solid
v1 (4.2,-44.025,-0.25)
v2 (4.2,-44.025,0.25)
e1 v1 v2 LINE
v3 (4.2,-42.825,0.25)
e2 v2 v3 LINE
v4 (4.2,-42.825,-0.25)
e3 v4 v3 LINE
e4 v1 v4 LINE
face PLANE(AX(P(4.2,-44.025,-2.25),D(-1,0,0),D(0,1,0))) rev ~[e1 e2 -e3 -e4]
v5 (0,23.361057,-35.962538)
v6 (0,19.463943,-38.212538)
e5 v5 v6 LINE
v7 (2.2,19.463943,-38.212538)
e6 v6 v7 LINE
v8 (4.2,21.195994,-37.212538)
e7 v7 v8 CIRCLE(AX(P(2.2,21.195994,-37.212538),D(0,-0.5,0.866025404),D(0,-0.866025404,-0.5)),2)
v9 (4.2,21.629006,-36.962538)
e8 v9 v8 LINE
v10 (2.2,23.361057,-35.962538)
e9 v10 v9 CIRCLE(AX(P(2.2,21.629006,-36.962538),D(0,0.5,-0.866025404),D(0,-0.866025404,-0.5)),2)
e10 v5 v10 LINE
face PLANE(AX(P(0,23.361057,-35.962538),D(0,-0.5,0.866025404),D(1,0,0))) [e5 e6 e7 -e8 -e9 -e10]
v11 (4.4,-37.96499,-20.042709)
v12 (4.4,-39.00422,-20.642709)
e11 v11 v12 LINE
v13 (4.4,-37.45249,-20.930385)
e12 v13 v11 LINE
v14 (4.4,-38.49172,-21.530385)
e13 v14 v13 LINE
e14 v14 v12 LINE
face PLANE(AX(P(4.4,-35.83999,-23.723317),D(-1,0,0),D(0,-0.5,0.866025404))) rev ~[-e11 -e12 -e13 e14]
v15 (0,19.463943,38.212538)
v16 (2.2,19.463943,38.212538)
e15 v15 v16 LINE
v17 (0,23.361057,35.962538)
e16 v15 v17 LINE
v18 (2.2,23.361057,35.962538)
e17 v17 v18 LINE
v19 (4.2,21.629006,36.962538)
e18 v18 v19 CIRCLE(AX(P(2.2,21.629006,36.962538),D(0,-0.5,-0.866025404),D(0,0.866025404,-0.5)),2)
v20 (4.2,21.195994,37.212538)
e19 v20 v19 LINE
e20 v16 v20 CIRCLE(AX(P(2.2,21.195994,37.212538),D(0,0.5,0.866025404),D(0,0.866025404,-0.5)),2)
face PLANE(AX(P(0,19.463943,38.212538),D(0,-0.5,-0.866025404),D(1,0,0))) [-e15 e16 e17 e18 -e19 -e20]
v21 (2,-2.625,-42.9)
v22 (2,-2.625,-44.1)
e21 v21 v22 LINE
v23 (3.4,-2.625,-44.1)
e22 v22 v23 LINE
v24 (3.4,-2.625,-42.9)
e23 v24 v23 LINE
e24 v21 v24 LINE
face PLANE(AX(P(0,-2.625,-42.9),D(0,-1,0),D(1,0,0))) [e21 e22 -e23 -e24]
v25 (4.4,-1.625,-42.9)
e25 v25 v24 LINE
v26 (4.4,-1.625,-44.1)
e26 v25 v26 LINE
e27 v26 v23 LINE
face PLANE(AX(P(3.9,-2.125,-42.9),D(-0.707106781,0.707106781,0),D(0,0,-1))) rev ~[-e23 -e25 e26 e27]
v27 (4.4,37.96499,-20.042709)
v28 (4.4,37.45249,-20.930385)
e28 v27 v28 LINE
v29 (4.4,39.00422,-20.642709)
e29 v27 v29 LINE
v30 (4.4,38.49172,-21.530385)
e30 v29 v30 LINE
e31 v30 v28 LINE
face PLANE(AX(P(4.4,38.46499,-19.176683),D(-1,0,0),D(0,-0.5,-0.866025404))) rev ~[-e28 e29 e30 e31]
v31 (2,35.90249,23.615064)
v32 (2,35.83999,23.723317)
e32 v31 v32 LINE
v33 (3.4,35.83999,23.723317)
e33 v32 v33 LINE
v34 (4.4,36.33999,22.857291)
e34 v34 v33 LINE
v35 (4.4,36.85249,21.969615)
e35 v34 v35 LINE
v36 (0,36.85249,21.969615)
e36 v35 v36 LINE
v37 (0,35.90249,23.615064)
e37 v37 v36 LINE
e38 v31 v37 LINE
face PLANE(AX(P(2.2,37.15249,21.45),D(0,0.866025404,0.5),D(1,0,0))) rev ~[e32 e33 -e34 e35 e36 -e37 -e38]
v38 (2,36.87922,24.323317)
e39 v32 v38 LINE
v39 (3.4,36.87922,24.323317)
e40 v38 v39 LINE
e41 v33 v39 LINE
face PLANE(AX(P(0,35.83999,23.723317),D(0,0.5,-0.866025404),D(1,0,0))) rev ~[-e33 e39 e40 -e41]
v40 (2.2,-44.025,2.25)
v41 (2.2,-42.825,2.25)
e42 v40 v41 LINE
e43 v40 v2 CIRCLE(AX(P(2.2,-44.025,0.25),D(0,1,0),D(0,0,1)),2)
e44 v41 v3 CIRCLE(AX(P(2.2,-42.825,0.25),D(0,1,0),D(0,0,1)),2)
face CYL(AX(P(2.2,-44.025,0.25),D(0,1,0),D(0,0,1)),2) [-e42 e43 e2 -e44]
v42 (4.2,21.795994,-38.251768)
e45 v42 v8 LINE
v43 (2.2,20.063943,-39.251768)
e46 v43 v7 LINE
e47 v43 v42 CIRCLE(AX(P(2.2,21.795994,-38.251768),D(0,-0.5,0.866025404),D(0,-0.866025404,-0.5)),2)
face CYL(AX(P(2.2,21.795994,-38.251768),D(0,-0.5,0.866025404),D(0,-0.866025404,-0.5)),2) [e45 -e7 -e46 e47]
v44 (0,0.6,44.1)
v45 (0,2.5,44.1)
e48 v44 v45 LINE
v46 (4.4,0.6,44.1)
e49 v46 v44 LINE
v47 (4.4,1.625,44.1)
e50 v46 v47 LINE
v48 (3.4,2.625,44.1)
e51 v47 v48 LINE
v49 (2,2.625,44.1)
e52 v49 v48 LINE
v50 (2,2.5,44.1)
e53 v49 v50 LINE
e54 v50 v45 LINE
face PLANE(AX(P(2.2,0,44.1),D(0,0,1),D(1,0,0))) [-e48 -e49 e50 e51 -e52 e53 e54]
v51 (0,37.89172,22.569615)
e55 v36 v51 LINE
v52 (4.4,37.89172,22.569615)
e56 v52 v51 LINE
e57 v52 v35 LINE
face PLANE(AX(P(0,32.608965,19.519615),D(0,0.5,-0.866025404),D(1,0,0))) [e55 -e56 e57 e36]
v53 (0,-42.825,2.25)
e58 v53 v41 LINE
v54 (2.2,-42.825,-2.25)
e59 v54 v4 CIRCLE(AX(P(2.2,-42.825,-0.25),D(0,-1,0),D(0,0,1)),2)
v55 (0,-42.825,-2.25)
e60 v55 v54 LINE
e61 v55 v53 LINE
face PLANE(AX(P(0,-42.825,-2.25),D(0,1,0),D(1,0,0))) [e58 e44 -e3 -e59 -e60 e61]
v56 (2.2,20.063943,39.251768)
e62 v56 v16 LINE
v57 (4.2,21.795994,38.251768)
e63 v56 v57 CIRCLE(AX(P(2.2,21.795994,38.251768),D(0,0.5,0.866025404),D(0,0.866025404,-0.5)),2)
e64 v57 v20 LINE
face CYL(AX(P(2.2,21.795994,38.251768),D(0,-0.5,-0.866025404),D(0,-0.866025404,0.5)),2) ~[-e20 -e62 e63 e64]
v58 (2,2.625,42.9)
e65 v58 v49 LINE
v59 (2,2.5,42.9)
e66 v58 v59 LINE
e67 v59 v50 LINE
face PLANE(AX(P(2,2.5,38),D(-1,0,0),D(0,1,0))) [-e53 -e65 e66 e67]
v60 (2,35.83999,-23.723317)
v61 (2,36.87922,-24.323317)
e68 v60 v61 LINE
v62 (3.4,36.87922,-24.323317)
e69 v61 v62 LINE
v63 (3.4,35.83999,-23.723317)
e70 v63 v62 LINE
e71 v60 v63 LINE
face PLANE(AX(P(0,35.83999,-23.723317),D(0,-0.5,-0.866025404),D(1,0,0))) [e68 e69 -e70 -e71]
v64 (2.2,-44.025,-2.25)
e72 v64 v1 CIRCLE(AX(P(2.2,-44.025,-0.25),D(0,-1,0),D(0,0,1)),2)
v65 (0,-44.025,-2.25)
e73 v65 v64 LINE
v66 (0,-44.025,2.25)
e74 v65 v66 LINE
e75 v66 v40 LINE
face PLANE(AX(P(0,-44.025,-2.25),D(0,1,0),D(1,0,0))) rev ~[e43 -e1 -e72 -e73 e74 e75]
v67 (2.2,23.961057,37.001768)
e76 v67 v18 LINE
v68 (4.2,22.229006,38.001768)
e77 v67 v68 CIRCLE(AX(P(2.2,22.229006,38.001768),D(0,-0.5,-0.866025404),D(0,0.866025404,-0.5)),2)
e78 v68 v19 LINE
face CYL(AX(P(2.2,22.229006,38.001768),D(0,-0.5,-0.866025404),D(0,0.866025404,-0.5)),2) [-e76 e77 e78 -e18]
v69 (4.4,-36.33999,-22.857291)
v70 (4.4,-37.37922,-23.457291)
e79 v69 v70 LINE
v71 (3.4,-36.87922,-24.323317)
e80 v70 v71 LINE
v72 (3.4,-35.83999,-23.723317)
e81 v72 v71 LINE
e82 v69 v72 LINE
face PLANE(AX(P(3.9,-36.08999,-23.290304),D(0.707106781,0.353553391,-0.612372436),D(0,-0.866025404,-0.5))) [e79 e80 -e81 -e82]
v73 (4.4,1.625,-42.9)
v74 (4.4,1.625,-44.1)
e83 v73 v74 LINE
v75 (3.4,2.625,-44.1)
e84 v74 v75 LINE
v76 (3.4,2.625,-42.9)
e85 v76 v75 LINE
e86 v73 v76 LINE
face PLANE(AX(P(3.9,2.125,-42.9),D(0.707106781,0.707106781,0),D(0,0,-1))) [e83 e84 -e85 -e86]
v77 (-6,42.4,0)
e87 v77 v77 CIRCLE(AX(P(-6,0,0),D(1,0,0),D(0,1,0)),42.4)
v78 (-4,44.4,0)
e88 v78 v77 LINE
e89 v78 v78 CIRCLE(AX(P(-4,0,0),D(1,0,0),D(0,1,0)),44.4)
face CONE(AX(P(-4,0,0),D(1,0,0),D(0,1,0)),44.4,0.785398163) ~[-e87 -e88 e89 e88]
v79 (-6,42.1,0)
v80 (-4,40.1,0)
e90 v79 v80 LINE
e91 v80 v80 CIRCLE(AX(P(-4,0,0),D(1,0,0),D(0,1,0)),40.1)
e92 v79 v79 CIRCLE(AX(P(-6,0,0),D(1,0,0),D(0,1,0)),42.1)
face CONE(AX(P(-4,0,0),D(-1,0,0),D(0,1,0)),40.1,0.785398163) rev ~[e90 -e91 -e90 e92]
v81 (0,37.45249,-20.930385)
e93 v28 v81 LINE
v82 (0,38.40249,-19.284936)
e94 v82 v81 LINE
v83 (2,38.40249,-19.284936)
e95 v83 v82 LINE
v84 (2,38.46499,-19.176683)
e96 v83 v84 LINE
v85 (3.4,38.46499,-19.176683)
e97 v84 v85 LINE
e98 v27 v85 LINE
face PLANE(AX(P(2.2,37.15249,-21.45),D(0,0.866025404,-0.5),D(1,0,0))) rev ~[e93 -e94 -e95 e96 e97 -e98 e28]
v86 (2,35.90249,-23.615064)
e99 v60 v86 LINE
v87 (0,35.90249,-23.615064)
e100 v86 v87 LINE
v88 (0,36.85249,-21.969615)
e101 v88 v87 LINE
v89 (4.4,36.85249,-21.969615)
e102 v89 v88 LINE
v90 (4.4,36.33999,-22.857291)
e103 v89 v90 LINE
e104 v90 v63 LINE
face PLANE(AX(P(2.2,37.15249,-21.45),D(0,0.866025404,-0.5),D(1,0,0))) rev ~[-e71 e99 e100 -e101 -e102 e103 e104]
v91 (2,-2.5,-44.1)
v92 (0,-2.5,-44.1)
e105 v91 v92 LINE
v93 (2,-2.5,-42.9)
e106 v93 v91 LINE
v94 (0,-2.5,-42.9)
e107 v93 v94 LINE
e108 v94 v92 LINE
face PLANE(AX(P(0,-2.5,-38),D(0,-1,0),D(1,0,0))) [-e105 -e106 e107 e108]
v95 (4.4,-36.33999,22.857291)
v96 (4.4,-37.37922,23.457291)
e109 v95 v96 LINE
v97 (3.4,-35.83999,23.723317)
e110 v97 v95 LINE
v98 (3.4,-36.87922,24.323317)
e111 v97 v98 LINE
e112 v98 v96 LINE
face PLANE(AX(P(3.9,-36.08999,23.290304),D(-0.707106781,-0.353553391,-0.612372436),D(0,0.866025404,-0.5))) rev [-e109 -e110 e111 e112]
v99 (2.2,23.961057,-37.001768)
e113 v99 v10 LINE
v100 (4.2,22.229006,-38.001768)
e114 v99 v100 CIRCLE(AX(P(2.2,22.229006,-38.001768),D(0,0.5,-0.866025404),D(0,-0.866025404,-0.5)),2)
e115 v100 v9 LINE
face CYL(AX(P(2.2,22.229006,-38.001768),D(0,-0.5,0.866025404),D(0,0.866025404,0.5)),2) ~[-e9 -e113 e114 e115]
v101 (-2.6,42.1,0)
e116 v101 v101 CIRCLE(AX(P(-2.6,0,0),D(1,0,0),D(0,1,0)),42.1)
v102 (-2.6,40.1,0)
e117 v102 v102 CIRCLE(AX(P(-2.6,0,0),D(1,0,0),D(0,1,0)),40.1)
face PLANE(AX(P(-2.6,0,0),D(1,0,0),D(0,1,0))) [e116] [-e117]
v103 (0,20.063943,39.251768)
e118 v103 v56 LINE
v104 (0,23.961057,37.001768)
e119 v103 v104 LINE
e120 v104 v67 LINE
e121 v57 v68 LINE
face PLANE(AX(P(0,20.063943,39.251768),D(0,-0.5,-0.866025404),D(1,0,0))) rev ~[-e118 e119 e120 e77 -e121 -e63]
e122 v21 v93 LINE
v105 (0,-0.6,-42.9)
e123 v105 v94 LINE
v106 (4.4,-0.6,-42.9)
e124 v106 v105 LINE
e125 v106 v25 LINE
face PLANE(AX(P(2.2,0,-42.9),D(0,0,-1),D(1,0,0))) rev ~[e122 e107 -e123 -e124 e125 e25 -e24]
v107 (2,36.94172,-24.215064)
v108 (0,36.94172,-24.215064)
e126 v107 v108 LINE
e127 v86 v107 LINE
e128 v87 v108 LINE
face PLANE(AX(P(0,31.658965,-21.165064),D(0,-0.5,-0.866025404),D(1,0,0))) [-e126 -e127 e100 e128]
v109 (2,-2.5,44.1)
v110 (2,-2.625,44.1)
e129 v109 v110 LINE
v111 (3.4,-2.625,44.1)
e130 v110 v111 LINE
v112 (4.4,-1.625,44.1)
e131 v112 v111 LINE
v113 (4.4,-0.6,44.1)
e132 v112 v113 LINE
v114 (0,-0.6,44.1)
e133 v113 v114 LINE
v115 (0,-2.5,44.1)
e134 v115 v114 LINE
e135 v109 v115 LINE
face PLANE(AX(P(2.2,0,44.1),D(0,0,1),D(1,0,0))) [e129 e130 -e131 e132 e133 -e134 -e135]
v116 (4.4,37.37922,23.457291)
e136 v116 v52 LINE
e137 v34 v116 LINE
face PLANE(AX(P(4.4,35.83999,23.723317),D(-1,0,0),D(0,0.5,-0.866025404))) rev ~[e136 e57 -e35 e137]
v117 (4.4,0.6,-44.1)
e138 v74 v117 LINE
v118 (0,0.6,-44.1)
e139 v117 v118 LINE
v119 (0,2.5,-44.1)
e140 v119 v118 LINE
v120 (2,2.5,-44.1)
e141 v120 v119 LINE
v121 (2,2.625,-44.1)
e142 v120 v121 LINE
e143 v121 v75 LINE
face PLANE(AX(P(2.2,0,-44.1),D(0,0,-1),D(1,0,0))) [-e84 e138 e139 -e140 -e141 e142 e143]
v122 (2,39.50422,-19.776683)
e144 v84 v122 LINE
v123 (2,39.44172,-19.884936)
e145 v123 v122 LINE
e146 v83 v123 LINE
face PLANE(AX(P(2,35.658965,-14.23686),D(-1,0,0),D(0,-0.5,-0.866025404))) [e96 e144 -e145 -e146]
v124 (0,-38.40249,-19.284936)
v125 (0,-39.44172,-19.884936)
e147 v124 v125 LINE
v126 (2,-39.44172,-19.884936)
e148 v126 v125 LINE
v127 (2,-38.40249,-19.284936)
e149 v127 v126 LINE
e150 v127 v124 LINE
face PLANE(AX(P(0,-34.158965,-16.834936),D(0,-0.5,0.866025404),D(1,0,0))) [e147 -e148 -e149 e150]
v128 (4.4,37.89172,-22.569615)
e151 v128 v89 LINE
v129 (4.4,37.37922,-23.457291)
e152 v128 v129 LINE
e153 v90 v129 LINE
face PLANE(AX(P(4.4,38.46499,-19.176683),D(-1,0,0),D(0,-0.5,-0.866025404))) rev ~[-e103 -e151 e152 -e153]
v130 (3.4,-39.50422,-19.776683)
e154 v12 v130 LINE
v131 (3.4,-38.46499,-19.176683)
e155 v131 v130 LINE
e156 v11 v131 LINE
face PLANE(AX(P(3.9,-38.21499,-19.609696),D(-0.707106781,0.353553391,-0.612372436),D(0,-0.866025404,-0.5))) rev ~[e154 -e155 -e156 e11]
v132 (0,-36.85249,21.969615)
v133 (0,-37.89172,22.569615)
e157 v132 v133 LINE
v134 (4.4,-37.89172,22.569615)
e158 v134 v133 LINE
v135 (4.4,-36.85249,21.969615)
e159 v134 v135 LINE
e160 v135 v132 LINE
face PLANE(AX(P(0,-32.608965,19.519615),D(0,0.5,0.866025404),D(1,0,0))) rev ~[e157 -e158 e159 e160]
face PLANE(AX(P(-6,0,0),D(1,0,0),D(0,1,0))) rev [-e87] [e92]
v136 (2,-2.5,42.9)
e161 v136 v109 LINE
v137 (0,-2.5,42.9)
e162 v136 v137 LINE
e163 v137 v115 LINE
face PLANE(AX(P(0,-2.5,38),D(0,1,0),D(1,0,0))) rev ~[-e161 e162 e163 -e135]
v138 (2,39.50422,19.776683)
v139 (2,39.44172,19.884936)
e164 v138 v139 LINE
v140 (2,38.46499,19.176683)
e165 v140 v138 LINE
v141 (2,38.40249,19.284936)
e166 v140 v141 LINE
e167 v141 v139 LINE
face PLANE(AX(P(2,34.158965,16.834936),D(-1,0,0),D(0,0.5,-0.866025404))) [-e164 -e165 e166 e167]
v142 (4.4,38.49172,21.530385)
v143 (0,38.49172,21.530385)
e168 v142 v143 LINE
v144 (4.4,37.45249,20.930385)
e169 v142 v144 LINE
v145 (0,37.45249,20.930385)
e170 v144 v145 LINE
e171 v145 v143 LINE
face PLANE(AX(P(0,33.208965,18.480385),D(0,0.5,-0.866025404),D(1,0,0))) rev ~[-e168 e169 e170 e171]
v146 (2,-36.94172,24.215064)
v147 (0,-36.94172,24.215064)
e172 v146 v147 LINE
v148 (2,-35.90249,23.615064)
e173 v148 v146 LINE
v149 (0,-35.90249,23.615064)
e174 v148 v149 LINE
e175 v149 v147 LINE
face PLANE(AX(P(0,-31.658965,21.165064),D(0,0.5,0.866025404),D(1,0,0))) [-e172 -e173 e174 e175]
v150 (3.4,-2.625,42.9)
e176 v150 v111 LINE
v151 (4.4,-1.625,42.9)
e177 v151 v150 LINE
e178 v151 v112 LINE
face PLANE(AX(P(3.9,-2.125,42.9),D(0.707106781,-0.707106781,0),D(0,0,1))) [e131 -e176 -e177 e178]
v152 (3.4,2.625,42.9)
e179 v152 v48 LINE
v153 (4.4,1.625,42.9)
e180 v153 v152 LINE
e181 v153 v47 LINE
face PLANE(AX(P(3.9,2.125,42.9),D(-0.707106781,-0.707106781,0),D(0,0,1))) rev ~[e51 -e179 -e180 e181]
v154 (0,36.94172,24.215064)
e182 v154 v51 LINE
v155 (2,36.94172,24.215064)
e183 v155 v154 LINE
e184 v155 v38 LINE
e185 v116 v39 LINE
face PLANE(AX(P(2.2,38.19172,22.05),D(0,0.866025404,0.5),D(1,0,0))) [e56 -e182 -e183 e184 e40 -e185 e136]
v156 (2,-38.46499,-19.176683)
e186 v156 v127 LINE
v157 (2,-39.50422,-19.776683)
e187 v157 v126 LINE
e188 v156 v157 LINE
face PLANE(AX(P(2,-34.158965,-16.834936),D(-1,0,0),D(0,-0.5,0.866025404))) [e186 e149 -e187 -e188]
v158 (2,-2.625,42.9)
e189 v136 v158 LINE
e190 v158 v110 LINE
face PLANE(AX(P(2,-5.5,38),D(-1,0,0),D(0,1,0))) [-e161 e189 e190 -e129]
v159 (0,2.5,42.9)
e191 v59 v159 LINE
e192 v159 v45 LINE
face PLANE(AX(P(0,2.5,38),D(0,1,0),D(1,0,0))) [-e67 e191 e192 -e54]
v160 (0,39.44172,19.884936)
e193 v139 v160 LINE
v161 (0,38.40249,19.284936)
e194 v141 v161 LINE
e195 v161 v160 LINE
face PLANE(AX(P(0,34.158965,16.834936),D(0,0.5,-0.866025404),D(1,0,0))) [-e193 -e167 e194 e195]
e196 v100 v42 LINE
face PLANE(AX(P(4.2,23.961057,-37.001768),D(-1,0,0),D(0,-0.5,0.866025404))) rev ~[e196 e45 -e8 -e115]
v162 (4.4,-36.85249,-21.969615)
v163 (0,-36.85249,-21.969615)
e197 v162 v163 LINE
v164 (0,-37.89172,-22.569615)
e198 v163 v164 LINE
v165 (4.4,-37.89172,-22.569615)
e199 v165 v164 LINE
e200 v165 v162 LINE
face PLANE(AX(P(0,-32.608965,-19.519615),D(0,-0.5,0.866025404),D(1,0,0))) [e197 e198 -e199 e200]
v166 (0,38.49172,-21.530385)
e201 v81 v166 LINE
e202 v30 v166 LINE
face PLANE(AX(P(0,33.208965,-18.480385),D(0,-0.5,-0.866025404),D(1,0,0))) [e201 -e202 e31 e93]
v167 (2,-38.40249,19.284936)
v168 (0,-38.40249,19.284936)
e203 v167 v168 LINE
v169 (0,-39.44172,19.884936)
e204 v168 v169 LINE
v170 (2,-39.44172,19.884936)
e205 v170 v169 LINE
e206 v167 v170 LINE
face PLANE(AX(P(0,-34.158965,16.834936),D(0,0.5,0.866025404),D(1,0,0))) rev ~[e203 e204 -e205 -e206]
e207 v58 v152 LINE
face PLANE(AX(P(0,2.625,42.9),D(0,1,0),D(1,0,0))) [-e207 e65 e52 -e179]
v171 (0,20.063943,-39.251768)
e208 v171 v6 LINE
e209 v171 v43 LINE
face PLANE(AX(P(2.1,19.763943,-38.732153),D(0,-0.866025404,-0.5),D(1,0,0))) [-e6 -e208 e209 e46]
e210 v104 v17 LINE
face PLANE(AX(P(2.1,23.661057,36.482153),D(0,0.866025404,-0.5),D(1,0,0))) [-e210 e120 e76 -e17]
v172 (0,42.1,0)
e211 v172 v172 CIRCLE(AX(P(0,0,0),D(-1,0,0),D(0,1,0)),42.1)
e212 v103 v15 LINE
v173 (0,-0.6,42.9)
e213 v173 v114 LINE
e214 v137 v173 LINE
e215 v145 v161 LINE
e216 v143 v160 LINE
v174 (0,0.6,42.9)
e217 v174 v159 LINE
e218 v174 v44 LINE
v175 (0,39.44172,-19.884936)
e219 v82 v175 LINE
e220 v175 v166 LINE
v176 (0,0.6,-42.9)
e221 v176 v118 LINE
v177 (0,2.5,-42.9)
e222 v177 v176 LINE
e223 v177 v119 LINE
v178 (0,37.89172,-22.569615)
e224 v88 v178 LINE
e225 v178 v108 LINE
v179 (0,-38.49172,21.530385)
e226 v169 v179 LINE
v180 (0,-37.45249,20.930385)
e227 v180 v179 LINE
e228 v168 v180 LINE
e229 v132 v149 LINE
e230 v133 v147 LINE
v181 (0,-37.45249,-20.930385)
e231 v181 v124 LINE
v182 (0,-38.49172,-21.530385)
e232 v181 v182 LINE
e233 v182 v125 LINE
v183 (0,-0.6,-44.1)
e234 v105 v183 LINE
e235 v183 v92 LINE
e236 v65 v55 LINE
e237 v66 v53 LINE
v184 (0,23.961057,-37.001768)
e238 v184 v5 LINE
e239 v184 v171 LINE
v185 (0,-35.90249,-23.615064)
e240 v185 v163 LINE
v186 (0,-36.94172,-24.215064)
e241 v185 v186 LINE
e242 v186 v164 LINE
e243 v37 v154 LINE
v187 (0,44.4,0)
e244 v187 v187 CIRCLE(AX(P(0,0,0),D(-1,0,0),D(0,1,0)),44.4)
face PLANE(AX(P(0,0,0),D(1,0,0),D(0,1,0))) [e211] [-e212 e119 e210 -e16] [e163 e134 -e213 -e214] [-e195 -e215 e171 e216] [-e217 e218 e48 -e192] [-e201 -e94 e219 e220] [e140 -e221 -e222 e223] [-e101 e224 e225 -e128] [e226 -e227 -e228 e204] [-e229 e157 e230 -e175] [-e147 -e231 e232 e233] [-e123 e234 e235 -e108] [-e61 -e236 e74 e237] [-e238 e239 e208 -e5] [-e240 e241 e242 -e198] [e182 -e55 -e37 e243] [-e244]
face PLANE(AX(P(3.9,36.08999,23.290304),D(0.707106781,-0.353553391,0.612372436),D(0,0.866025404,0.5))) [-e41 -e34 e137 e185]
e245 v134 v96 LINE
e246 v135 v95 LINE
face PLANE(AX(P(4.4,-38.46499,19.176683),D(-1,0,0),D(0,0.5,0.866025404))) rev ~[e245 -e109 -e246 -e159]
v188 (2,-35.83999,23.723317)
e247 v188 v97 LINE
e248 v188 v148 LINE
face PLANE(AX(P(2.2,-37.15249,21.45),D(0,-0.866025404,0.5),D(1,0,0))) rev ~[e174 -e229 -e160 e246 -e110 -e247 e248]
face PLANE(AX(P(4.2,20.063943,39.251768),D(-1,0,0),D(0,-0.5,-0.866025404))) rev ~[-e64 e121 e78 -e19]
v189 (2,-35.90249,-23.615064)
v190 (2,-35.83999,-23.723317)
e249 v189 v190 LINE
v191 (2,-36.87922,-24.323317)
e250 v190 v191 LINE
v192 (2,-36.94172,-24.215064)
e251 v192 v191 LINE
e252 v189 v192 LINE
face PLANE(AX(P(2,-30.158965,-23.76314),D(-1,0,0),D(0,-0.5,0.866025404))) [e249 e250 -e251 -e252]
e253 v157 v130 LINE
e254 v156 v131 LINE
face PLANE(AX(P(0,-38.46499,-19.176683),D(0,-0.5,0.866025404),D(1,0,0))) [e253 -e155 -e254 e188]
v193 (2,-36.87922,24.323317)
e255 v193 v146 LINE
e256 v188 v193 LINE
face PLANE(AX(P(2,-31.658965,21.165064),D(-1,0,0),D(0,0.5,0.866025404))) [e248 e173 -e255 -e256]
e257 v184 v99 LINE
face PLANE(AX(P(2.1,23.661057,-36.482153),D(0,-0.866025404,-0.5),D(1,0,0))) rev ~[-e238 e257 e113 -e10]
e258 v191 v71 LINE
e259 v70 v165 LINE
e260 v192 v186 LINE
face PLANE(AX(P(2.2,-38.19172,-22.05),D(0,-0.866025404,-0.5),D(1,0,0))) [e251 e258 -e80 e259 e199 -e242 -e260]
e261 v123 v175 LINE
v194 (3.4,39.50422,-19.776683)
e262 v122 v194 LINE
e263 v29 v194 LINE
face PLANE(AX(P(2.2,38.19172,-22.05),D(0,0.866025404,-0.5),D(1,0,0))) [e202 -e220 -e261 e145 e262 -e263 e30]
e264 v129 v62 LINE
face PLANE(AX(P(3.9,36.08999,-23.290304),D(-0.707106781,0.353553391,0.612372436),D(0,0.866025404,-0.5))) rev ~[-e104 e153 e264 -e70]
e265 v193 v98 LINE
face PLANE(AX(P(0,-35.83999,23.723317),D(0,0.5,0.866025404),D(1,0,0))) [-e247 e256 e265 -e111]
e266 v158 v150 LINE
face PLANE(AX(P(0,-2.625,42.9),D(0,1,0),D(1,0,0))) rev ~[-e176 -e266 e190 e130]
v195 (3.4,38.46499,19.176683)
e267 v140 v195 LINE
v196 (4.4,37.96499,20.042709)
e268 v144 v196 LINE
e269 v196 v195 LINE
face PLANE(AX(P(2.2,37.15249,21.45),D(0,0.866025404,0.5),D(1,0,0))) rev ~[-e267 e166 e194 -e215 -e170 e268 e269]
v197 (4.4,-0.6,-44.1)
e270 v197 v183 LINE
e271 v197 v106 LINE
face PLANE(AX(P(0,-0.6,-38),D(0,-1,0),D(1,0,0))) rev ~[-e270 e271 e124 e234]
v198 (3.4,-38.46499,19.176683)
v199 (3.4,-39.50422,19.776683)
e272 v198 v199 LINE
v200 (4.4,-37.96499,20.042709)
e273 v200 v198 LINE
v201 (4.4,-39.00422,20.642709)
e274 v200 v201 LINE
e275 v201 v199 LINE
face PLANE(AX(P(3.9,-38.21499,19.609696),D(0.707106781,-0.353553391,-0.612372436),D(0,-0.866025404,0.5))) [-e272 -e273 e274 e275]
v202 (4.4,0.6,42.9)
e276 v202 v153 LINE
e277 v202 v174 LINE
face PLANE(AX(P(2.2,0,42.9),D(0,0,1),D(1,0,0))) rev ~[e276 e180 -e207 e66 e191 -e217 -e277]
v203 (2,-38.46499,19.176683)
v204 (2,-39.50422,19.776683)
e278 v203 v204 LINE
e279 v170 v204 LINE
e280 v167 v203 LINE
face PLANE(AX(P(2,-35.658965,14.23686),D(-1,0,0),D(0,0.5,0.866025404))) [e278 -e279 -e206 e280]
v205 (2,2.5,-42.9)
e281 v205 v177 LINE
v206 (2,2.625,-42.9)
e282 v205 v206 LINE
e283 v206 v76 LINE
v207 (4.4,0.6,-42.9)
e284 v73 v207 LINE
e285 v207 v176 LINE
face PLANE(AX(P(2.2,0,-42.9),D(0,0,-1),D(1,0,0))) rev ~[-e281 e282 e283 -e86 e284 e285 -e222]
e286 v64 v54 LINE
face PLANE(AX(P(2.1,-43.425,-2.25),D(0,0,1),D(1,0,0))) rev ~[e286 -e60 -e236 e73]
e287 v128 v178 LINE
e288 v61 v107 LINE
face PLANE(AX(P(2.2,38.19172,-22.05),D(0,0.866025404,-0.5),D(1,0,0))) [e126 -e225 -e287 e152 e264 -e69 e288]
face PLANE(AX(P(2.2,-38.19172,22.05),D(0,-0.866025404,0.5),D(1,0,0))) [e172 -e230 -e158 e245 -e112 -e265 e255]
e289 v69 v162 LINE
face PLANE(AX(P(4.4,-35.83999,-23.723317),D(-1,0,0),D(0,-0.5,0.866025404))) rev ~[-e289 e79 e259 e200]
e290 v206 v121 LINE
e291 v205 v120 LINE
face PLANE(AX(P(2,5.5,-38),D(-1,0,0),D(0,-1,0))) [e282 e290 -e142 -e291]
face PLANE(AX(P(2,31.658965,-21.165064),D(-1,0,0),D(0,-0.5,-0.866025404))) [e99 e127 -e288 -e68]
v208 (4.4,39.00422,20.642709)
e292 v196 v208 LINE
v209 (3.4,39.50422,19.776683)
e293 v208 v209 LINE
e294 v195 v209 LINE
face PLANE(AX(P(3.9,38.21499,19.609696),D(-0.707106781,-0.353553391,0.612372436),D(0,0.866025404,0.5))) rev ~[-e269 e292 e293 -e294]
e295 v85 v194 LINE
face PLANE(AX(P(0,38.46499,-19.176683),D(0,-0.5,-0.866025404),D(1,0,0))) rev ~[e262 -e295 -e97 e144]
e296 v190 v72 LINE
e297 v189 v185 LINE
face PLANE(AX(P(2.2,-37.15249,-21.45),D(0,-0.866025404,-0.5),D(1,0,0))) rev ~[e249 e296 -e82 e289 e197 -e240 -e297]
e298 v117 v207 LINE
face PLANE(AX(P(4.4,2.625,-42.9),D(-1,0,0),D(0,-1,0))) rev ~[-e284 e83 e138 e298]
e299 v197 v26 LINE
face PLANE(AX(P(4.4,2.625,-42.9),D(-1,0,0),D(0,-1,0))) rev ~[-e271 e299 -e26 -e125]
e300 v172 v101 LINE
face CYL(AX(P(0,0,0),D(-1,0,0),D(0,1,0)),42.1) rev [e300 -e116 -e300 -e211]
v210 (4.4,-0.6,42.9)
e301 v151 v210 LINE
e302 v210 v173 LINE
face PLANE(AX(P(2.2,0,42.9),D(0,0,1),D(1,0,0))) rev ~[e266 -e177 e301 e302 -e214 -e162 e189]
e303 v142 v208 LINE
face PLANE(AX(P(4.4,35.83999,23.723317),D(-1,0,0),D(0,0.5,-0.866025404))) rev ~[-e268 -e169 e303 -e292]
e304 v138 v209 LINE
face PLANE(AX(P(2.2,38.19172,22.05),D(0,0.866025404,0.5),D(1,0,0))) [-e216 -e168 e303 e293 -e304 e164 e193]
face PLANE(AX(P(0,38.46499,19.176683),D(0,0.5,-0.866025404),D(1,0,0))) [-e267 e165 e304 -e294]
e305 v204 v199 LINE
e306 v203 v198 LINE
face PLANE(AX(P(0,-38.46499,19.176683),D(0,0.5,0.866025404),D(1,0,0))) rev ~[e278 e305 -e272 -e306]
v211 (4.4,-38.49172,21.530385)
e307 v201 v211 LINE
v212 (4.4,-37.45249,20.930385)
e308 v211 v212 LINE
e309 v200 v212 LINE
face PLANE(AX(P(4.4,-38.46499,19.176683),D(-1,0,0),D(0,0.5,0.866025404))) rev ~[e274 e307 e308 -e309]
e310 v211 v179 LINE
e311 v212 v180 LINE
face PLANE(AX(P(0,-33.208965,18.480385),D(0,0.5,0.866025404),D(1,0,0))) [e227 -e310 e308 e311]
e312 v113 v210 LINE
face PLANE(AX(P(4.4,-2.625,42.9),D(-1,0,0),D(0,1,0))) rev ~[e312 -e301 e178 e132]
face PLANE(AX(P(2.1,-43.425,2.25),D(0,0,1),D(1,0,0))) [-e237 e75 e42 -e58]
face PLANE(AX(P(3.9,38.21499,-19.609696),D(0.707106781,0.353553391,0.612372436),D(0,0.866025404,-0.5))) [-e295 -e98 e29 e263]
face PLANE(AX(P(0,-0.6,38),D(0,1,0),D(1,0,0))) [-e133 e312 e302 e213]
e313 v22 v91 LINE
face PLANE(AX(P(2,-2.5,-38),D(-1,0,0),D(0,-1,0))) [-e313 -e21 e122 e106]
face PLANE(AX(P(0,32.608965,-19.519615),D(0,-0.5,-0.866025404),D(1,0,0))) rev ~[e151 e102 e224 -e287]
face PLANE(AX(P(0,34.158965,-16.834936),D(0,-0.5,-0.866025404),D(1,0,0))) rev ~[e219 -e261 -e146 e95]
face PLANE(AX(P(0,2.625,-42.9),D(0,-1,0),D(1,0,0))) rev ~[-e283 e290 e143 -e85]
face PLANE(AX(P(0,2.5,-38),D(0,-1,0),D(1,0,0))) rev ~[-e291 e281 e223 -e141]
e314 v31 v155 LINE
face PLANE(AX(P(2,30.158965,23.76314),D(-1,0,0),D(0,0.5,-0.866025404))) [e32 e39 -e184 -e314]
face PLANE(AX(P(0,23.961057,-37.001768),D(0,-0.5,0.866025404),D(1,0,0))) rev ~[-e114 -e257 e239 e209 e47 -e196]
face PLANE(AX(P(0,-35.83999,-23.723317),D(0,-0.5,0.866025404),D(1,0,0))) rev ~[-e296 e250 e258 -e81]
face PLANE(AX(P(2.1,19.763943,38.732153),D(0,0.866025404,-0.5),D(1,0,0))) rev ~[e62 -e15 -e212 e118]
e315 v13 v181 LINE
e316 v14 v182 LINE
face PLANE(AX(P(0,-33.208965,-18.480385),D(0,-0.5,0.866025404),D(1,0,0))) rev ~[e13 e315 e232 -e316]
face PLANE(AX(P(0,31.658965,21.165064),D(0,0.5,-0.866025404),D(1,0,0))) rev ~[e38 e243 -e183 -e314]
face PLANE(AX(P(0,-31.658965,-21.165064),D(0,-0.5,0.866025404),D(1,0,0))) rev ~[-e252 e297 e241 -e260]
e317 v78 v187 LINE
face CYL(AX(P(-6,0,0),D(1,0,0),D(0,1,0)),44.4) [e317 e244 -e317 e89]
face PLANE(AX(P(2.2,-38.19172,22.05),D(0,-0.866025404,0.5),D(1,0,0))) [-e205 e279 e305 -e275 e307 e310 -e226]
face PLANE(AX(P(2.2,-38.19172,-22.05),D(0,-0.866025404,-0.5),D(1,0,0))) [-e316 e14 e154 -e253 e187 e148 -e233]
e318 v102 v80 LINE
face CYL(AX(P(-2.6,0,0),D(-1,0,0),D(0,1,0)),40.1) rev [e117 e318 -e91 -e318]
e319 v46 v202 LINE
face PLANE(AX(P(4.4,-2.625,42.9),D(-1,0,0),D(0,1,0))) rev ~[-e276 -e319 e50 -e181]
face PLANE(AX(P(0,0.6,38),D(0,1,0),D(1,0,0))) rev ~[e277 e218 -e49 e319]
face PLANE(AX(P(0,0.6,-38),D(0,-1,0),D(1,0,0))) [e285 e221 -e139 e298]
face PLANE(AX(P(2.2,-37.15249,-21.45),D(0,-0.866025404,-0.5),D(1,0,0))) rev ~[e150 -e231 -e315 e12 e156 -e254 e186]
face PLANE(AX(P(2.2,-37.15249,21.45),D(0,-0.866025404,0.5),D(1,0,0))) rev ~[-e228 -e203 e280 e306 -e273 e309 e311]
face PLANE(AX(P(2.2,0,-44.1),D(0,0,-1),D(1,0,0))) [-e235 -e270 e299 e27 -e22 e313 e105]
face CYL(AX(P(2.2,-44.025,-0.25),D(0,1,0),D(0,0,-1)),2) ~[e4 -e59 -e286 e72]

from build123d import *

# Parameters (mm, degrees)
BOX003_W        = 2
BOX003_H        = 3
BOX003_DEPTH    = 10
ARRAY004_COUNT  = 6
BOX004_W        = 2
BOX004_H        = 3
BOX004_DEPTH    = 10
ARRAY003_COUNT  = 6
BOX001_W        = 5
BOX001_H        = 1.2
BOX001_DEPTH    = 10
ARRAY002_COUNT  = 6
CHAMFER_SIZE    = 2
CHAMFER001_SIZE = 2
BOX002_W        = 4.2
BOX002_H        = 1.2
BOX002_DEPTH    = 4.5
ARRAY_COUNT     = 3
BOX_W           = 4.4
BOX_H           = 5.25
BOX_DEPTH       = 1.2
ARRAY001_COUNT  = 6
CHAMFER002_SIZE = 1
FILLET_R        = 2


with BuildPart() as array004:
    # Box003 → Box003 (new body)
    with BuildSketch(Plane(origin=(0, -5.5, 38), x_dir=(1, 0, 0), z_dir=(0, 0, 1))):
        with Locations((1, 1.5)):
            Rectangle(BOX003_W, BOX003_H)
    extrude(amount=BOX003_DEPTH)

    # Array004: Array004 ×6 about axis
    array004_axis = Axis((0, 0, 0), (1, 0, 0))


with BuildPart() as array004_1:
    add(array004.part)
    for i in range(1, ARRAY004_COUNT):
        add(array004.part.rotate(array004_axis, i * 360 / ARRAY004_COUNT))


with BuildPart() as array003:
    # Box004 → Box004 (new body)
    with BuildSketch(Plane(origin=(0, 2.5, 38), x_dir=(1, 0, 0), z_dir=(0, 0, 1))):
        with Locations((1, 1.5)):
            Rectangle(BOX004_W, BOX004_H)
    extrude(amount=BOX004_DEPTH)

    # Array003: Array003 ×6 about axis
    array003_axis = Axis((0, 0, 0), (1, 0, 0))


with BuildPart() as array003_1:
    add(array003.part)
    for i in range(1, ARRAY003_COUNT):
        add(array003.part.rotate(array003_axis, i * 360 / ARRAY003_COUNT))


with BuildPart() as array002:
    # Box001 → Box001 (new body)
    with BuildSketch(Plane(origin=(0, -0.6, 38), x_dir=(1, 0, 0), z_dir=(0, 0, 1))):
        with Locations((2.5, 0.6)):
            Rectangle(BOX001_W, BOX001_H)
    extrude(amount=BOX001_DEPTH)

    # Array002: Array002 ×6 about axis
    array002_axis = Axis((0, 0, 0), (1, 0, 0))


with BuildPart() as array002_1:
    add(array002.part)
    for i in range(1, ARRAY002_COUNT):
        add(array002.part.rotate(array002_axis, i * 360 / ARRAY002_COUNT))


with BuildPart() as chamfer001:
    # Sketch → Revolution (revolve)
    with BuildSketch(Plane.XY):
        Polygon((-6, 44.4), (0, 44.4), (0, 42.1), (-2.6, 42.1), (-2.6, 40.1), (-6, 40.1), align=None)
    revolve(axis=Axis((0, 0, 0), (1, 0, 0)))

    # Chamfer
    chamfer_edges = [chamfer001.edges().sort_by_distance(p)[0] for p in [
        (-6, -44.4, 0),
    ]]
    chamfer(chamfer_edges, length=CHAMFER_SIZE)

    # Chamfer001
    chamfer001_edges = [chamfer001.edges().sort_by_distance(p)[0] for p in [
        (-6, -40.1, 0),
    ]]
    chamfer(chamfer001_edges, length=CHAMFER001_SIZE)


with BuildPart() as fusion:
    # Box002 → Box002 (new body)
    with BuildSketch(Plane(origin=(0, -44.025, -2.25), x_dir=(1, 0, 0), z_dir=(0, 0, 1))):
        with Locations((2.1, 0.6)):
            Rectangle(BOX002_W, BOX002_H)
    extrude(amount=BOX002_DEPTH)

    # Array: Fusion ×3 about axis
    array_axis = Axis((0, 0, 0), (1, 0, 0))


with BuildPart() as fusion_1:
    add(fusion.part)
    for i in range(1, ARRAY_COUNT):
        add(fusion.part.rotate(array_axis, i * 360 / ARRAY_COUNT))

    # Fusion: union Chamfer001
    add(chamfer001.part)


with BuildPart() as fillet_body:
    # Box → Box (new body)
    with BuildSketch(Plane(origin=(0, -2.625, 42.9), x_dir=(1, 0, 0), z_dir=(0, 0, 1))):
        with Locations((2.2, 2.625)):
            Rectangle(BOX_W, BOX_H)
    extrude(amount=BOX_DEPTH)

    # Array001: Fillet body ×6 about axis
    array001_axis = Axis((0, 0, 0), (1, 0, 0))


with BuildPart() as fillet_body_1:
    add(fillet_body.part)
    for i in range(1, ARRAY001_COUNT):
        add(fillet_body.part.rotate(array001_axis, i * 360 / ARRAY001_COUNT))

    # Fusion001: union Fusion
    add(fusion_1.part)

    # Cut: cut Array002
    add(array002_1.part, mode=Mode.SUBTRACT)

    # Cut001: cut Array003
    add(array003_1.part, mode=Mode.SUBTRACT)

    # Cut002: cut Array004
    add(array004_1.part, mode=Mode.SUBTRACT)

    # Chamfer002
    chamfer002_edges = [fillet_body_1.edges().sort_by_distance(p)[0] for p in [
        (4.4, -38.984605, 19.476683),
        (4.4, -38.984605, -19.476683),
        (4.4, 38.984605, -19.476683),
        (4.4, 36.359605, 24.023317),
        (4.4, 36.359605, -24.023317),
        (4.4, -36.359605, -24.023317),
        (4.4, 38.984605, 19.476683),
        (4.4, -36.359605, 24.023317),
        (4.4, 2.625, -43.5),
        (4.4, -2.625, -43.5),
        (4.4, 2.625, 43.5),
        (4.4, -2.625, 43.5),
    ]]
    chamfer(chamfer002_edges, length=CHAMFER002_SIZE)

    # Fillet
    fillet_edges = [fillet_body_1.edges().sort_by_distance(p)[0] for p in [
        (4.2, 23.661057, 36.482153),
        (4.2, 19.763943, 38.732153),
        (4.2, 19.763943, -38.732153),
        (4.2, 23.661057, -36.482153),
        (4.2, -43.425, 2.25),
        (4.2, -43.425, -2.25),
    ]]
    fillet(fillet_edges, radius=FILLET_R)


solid = fillet_body_1.part
